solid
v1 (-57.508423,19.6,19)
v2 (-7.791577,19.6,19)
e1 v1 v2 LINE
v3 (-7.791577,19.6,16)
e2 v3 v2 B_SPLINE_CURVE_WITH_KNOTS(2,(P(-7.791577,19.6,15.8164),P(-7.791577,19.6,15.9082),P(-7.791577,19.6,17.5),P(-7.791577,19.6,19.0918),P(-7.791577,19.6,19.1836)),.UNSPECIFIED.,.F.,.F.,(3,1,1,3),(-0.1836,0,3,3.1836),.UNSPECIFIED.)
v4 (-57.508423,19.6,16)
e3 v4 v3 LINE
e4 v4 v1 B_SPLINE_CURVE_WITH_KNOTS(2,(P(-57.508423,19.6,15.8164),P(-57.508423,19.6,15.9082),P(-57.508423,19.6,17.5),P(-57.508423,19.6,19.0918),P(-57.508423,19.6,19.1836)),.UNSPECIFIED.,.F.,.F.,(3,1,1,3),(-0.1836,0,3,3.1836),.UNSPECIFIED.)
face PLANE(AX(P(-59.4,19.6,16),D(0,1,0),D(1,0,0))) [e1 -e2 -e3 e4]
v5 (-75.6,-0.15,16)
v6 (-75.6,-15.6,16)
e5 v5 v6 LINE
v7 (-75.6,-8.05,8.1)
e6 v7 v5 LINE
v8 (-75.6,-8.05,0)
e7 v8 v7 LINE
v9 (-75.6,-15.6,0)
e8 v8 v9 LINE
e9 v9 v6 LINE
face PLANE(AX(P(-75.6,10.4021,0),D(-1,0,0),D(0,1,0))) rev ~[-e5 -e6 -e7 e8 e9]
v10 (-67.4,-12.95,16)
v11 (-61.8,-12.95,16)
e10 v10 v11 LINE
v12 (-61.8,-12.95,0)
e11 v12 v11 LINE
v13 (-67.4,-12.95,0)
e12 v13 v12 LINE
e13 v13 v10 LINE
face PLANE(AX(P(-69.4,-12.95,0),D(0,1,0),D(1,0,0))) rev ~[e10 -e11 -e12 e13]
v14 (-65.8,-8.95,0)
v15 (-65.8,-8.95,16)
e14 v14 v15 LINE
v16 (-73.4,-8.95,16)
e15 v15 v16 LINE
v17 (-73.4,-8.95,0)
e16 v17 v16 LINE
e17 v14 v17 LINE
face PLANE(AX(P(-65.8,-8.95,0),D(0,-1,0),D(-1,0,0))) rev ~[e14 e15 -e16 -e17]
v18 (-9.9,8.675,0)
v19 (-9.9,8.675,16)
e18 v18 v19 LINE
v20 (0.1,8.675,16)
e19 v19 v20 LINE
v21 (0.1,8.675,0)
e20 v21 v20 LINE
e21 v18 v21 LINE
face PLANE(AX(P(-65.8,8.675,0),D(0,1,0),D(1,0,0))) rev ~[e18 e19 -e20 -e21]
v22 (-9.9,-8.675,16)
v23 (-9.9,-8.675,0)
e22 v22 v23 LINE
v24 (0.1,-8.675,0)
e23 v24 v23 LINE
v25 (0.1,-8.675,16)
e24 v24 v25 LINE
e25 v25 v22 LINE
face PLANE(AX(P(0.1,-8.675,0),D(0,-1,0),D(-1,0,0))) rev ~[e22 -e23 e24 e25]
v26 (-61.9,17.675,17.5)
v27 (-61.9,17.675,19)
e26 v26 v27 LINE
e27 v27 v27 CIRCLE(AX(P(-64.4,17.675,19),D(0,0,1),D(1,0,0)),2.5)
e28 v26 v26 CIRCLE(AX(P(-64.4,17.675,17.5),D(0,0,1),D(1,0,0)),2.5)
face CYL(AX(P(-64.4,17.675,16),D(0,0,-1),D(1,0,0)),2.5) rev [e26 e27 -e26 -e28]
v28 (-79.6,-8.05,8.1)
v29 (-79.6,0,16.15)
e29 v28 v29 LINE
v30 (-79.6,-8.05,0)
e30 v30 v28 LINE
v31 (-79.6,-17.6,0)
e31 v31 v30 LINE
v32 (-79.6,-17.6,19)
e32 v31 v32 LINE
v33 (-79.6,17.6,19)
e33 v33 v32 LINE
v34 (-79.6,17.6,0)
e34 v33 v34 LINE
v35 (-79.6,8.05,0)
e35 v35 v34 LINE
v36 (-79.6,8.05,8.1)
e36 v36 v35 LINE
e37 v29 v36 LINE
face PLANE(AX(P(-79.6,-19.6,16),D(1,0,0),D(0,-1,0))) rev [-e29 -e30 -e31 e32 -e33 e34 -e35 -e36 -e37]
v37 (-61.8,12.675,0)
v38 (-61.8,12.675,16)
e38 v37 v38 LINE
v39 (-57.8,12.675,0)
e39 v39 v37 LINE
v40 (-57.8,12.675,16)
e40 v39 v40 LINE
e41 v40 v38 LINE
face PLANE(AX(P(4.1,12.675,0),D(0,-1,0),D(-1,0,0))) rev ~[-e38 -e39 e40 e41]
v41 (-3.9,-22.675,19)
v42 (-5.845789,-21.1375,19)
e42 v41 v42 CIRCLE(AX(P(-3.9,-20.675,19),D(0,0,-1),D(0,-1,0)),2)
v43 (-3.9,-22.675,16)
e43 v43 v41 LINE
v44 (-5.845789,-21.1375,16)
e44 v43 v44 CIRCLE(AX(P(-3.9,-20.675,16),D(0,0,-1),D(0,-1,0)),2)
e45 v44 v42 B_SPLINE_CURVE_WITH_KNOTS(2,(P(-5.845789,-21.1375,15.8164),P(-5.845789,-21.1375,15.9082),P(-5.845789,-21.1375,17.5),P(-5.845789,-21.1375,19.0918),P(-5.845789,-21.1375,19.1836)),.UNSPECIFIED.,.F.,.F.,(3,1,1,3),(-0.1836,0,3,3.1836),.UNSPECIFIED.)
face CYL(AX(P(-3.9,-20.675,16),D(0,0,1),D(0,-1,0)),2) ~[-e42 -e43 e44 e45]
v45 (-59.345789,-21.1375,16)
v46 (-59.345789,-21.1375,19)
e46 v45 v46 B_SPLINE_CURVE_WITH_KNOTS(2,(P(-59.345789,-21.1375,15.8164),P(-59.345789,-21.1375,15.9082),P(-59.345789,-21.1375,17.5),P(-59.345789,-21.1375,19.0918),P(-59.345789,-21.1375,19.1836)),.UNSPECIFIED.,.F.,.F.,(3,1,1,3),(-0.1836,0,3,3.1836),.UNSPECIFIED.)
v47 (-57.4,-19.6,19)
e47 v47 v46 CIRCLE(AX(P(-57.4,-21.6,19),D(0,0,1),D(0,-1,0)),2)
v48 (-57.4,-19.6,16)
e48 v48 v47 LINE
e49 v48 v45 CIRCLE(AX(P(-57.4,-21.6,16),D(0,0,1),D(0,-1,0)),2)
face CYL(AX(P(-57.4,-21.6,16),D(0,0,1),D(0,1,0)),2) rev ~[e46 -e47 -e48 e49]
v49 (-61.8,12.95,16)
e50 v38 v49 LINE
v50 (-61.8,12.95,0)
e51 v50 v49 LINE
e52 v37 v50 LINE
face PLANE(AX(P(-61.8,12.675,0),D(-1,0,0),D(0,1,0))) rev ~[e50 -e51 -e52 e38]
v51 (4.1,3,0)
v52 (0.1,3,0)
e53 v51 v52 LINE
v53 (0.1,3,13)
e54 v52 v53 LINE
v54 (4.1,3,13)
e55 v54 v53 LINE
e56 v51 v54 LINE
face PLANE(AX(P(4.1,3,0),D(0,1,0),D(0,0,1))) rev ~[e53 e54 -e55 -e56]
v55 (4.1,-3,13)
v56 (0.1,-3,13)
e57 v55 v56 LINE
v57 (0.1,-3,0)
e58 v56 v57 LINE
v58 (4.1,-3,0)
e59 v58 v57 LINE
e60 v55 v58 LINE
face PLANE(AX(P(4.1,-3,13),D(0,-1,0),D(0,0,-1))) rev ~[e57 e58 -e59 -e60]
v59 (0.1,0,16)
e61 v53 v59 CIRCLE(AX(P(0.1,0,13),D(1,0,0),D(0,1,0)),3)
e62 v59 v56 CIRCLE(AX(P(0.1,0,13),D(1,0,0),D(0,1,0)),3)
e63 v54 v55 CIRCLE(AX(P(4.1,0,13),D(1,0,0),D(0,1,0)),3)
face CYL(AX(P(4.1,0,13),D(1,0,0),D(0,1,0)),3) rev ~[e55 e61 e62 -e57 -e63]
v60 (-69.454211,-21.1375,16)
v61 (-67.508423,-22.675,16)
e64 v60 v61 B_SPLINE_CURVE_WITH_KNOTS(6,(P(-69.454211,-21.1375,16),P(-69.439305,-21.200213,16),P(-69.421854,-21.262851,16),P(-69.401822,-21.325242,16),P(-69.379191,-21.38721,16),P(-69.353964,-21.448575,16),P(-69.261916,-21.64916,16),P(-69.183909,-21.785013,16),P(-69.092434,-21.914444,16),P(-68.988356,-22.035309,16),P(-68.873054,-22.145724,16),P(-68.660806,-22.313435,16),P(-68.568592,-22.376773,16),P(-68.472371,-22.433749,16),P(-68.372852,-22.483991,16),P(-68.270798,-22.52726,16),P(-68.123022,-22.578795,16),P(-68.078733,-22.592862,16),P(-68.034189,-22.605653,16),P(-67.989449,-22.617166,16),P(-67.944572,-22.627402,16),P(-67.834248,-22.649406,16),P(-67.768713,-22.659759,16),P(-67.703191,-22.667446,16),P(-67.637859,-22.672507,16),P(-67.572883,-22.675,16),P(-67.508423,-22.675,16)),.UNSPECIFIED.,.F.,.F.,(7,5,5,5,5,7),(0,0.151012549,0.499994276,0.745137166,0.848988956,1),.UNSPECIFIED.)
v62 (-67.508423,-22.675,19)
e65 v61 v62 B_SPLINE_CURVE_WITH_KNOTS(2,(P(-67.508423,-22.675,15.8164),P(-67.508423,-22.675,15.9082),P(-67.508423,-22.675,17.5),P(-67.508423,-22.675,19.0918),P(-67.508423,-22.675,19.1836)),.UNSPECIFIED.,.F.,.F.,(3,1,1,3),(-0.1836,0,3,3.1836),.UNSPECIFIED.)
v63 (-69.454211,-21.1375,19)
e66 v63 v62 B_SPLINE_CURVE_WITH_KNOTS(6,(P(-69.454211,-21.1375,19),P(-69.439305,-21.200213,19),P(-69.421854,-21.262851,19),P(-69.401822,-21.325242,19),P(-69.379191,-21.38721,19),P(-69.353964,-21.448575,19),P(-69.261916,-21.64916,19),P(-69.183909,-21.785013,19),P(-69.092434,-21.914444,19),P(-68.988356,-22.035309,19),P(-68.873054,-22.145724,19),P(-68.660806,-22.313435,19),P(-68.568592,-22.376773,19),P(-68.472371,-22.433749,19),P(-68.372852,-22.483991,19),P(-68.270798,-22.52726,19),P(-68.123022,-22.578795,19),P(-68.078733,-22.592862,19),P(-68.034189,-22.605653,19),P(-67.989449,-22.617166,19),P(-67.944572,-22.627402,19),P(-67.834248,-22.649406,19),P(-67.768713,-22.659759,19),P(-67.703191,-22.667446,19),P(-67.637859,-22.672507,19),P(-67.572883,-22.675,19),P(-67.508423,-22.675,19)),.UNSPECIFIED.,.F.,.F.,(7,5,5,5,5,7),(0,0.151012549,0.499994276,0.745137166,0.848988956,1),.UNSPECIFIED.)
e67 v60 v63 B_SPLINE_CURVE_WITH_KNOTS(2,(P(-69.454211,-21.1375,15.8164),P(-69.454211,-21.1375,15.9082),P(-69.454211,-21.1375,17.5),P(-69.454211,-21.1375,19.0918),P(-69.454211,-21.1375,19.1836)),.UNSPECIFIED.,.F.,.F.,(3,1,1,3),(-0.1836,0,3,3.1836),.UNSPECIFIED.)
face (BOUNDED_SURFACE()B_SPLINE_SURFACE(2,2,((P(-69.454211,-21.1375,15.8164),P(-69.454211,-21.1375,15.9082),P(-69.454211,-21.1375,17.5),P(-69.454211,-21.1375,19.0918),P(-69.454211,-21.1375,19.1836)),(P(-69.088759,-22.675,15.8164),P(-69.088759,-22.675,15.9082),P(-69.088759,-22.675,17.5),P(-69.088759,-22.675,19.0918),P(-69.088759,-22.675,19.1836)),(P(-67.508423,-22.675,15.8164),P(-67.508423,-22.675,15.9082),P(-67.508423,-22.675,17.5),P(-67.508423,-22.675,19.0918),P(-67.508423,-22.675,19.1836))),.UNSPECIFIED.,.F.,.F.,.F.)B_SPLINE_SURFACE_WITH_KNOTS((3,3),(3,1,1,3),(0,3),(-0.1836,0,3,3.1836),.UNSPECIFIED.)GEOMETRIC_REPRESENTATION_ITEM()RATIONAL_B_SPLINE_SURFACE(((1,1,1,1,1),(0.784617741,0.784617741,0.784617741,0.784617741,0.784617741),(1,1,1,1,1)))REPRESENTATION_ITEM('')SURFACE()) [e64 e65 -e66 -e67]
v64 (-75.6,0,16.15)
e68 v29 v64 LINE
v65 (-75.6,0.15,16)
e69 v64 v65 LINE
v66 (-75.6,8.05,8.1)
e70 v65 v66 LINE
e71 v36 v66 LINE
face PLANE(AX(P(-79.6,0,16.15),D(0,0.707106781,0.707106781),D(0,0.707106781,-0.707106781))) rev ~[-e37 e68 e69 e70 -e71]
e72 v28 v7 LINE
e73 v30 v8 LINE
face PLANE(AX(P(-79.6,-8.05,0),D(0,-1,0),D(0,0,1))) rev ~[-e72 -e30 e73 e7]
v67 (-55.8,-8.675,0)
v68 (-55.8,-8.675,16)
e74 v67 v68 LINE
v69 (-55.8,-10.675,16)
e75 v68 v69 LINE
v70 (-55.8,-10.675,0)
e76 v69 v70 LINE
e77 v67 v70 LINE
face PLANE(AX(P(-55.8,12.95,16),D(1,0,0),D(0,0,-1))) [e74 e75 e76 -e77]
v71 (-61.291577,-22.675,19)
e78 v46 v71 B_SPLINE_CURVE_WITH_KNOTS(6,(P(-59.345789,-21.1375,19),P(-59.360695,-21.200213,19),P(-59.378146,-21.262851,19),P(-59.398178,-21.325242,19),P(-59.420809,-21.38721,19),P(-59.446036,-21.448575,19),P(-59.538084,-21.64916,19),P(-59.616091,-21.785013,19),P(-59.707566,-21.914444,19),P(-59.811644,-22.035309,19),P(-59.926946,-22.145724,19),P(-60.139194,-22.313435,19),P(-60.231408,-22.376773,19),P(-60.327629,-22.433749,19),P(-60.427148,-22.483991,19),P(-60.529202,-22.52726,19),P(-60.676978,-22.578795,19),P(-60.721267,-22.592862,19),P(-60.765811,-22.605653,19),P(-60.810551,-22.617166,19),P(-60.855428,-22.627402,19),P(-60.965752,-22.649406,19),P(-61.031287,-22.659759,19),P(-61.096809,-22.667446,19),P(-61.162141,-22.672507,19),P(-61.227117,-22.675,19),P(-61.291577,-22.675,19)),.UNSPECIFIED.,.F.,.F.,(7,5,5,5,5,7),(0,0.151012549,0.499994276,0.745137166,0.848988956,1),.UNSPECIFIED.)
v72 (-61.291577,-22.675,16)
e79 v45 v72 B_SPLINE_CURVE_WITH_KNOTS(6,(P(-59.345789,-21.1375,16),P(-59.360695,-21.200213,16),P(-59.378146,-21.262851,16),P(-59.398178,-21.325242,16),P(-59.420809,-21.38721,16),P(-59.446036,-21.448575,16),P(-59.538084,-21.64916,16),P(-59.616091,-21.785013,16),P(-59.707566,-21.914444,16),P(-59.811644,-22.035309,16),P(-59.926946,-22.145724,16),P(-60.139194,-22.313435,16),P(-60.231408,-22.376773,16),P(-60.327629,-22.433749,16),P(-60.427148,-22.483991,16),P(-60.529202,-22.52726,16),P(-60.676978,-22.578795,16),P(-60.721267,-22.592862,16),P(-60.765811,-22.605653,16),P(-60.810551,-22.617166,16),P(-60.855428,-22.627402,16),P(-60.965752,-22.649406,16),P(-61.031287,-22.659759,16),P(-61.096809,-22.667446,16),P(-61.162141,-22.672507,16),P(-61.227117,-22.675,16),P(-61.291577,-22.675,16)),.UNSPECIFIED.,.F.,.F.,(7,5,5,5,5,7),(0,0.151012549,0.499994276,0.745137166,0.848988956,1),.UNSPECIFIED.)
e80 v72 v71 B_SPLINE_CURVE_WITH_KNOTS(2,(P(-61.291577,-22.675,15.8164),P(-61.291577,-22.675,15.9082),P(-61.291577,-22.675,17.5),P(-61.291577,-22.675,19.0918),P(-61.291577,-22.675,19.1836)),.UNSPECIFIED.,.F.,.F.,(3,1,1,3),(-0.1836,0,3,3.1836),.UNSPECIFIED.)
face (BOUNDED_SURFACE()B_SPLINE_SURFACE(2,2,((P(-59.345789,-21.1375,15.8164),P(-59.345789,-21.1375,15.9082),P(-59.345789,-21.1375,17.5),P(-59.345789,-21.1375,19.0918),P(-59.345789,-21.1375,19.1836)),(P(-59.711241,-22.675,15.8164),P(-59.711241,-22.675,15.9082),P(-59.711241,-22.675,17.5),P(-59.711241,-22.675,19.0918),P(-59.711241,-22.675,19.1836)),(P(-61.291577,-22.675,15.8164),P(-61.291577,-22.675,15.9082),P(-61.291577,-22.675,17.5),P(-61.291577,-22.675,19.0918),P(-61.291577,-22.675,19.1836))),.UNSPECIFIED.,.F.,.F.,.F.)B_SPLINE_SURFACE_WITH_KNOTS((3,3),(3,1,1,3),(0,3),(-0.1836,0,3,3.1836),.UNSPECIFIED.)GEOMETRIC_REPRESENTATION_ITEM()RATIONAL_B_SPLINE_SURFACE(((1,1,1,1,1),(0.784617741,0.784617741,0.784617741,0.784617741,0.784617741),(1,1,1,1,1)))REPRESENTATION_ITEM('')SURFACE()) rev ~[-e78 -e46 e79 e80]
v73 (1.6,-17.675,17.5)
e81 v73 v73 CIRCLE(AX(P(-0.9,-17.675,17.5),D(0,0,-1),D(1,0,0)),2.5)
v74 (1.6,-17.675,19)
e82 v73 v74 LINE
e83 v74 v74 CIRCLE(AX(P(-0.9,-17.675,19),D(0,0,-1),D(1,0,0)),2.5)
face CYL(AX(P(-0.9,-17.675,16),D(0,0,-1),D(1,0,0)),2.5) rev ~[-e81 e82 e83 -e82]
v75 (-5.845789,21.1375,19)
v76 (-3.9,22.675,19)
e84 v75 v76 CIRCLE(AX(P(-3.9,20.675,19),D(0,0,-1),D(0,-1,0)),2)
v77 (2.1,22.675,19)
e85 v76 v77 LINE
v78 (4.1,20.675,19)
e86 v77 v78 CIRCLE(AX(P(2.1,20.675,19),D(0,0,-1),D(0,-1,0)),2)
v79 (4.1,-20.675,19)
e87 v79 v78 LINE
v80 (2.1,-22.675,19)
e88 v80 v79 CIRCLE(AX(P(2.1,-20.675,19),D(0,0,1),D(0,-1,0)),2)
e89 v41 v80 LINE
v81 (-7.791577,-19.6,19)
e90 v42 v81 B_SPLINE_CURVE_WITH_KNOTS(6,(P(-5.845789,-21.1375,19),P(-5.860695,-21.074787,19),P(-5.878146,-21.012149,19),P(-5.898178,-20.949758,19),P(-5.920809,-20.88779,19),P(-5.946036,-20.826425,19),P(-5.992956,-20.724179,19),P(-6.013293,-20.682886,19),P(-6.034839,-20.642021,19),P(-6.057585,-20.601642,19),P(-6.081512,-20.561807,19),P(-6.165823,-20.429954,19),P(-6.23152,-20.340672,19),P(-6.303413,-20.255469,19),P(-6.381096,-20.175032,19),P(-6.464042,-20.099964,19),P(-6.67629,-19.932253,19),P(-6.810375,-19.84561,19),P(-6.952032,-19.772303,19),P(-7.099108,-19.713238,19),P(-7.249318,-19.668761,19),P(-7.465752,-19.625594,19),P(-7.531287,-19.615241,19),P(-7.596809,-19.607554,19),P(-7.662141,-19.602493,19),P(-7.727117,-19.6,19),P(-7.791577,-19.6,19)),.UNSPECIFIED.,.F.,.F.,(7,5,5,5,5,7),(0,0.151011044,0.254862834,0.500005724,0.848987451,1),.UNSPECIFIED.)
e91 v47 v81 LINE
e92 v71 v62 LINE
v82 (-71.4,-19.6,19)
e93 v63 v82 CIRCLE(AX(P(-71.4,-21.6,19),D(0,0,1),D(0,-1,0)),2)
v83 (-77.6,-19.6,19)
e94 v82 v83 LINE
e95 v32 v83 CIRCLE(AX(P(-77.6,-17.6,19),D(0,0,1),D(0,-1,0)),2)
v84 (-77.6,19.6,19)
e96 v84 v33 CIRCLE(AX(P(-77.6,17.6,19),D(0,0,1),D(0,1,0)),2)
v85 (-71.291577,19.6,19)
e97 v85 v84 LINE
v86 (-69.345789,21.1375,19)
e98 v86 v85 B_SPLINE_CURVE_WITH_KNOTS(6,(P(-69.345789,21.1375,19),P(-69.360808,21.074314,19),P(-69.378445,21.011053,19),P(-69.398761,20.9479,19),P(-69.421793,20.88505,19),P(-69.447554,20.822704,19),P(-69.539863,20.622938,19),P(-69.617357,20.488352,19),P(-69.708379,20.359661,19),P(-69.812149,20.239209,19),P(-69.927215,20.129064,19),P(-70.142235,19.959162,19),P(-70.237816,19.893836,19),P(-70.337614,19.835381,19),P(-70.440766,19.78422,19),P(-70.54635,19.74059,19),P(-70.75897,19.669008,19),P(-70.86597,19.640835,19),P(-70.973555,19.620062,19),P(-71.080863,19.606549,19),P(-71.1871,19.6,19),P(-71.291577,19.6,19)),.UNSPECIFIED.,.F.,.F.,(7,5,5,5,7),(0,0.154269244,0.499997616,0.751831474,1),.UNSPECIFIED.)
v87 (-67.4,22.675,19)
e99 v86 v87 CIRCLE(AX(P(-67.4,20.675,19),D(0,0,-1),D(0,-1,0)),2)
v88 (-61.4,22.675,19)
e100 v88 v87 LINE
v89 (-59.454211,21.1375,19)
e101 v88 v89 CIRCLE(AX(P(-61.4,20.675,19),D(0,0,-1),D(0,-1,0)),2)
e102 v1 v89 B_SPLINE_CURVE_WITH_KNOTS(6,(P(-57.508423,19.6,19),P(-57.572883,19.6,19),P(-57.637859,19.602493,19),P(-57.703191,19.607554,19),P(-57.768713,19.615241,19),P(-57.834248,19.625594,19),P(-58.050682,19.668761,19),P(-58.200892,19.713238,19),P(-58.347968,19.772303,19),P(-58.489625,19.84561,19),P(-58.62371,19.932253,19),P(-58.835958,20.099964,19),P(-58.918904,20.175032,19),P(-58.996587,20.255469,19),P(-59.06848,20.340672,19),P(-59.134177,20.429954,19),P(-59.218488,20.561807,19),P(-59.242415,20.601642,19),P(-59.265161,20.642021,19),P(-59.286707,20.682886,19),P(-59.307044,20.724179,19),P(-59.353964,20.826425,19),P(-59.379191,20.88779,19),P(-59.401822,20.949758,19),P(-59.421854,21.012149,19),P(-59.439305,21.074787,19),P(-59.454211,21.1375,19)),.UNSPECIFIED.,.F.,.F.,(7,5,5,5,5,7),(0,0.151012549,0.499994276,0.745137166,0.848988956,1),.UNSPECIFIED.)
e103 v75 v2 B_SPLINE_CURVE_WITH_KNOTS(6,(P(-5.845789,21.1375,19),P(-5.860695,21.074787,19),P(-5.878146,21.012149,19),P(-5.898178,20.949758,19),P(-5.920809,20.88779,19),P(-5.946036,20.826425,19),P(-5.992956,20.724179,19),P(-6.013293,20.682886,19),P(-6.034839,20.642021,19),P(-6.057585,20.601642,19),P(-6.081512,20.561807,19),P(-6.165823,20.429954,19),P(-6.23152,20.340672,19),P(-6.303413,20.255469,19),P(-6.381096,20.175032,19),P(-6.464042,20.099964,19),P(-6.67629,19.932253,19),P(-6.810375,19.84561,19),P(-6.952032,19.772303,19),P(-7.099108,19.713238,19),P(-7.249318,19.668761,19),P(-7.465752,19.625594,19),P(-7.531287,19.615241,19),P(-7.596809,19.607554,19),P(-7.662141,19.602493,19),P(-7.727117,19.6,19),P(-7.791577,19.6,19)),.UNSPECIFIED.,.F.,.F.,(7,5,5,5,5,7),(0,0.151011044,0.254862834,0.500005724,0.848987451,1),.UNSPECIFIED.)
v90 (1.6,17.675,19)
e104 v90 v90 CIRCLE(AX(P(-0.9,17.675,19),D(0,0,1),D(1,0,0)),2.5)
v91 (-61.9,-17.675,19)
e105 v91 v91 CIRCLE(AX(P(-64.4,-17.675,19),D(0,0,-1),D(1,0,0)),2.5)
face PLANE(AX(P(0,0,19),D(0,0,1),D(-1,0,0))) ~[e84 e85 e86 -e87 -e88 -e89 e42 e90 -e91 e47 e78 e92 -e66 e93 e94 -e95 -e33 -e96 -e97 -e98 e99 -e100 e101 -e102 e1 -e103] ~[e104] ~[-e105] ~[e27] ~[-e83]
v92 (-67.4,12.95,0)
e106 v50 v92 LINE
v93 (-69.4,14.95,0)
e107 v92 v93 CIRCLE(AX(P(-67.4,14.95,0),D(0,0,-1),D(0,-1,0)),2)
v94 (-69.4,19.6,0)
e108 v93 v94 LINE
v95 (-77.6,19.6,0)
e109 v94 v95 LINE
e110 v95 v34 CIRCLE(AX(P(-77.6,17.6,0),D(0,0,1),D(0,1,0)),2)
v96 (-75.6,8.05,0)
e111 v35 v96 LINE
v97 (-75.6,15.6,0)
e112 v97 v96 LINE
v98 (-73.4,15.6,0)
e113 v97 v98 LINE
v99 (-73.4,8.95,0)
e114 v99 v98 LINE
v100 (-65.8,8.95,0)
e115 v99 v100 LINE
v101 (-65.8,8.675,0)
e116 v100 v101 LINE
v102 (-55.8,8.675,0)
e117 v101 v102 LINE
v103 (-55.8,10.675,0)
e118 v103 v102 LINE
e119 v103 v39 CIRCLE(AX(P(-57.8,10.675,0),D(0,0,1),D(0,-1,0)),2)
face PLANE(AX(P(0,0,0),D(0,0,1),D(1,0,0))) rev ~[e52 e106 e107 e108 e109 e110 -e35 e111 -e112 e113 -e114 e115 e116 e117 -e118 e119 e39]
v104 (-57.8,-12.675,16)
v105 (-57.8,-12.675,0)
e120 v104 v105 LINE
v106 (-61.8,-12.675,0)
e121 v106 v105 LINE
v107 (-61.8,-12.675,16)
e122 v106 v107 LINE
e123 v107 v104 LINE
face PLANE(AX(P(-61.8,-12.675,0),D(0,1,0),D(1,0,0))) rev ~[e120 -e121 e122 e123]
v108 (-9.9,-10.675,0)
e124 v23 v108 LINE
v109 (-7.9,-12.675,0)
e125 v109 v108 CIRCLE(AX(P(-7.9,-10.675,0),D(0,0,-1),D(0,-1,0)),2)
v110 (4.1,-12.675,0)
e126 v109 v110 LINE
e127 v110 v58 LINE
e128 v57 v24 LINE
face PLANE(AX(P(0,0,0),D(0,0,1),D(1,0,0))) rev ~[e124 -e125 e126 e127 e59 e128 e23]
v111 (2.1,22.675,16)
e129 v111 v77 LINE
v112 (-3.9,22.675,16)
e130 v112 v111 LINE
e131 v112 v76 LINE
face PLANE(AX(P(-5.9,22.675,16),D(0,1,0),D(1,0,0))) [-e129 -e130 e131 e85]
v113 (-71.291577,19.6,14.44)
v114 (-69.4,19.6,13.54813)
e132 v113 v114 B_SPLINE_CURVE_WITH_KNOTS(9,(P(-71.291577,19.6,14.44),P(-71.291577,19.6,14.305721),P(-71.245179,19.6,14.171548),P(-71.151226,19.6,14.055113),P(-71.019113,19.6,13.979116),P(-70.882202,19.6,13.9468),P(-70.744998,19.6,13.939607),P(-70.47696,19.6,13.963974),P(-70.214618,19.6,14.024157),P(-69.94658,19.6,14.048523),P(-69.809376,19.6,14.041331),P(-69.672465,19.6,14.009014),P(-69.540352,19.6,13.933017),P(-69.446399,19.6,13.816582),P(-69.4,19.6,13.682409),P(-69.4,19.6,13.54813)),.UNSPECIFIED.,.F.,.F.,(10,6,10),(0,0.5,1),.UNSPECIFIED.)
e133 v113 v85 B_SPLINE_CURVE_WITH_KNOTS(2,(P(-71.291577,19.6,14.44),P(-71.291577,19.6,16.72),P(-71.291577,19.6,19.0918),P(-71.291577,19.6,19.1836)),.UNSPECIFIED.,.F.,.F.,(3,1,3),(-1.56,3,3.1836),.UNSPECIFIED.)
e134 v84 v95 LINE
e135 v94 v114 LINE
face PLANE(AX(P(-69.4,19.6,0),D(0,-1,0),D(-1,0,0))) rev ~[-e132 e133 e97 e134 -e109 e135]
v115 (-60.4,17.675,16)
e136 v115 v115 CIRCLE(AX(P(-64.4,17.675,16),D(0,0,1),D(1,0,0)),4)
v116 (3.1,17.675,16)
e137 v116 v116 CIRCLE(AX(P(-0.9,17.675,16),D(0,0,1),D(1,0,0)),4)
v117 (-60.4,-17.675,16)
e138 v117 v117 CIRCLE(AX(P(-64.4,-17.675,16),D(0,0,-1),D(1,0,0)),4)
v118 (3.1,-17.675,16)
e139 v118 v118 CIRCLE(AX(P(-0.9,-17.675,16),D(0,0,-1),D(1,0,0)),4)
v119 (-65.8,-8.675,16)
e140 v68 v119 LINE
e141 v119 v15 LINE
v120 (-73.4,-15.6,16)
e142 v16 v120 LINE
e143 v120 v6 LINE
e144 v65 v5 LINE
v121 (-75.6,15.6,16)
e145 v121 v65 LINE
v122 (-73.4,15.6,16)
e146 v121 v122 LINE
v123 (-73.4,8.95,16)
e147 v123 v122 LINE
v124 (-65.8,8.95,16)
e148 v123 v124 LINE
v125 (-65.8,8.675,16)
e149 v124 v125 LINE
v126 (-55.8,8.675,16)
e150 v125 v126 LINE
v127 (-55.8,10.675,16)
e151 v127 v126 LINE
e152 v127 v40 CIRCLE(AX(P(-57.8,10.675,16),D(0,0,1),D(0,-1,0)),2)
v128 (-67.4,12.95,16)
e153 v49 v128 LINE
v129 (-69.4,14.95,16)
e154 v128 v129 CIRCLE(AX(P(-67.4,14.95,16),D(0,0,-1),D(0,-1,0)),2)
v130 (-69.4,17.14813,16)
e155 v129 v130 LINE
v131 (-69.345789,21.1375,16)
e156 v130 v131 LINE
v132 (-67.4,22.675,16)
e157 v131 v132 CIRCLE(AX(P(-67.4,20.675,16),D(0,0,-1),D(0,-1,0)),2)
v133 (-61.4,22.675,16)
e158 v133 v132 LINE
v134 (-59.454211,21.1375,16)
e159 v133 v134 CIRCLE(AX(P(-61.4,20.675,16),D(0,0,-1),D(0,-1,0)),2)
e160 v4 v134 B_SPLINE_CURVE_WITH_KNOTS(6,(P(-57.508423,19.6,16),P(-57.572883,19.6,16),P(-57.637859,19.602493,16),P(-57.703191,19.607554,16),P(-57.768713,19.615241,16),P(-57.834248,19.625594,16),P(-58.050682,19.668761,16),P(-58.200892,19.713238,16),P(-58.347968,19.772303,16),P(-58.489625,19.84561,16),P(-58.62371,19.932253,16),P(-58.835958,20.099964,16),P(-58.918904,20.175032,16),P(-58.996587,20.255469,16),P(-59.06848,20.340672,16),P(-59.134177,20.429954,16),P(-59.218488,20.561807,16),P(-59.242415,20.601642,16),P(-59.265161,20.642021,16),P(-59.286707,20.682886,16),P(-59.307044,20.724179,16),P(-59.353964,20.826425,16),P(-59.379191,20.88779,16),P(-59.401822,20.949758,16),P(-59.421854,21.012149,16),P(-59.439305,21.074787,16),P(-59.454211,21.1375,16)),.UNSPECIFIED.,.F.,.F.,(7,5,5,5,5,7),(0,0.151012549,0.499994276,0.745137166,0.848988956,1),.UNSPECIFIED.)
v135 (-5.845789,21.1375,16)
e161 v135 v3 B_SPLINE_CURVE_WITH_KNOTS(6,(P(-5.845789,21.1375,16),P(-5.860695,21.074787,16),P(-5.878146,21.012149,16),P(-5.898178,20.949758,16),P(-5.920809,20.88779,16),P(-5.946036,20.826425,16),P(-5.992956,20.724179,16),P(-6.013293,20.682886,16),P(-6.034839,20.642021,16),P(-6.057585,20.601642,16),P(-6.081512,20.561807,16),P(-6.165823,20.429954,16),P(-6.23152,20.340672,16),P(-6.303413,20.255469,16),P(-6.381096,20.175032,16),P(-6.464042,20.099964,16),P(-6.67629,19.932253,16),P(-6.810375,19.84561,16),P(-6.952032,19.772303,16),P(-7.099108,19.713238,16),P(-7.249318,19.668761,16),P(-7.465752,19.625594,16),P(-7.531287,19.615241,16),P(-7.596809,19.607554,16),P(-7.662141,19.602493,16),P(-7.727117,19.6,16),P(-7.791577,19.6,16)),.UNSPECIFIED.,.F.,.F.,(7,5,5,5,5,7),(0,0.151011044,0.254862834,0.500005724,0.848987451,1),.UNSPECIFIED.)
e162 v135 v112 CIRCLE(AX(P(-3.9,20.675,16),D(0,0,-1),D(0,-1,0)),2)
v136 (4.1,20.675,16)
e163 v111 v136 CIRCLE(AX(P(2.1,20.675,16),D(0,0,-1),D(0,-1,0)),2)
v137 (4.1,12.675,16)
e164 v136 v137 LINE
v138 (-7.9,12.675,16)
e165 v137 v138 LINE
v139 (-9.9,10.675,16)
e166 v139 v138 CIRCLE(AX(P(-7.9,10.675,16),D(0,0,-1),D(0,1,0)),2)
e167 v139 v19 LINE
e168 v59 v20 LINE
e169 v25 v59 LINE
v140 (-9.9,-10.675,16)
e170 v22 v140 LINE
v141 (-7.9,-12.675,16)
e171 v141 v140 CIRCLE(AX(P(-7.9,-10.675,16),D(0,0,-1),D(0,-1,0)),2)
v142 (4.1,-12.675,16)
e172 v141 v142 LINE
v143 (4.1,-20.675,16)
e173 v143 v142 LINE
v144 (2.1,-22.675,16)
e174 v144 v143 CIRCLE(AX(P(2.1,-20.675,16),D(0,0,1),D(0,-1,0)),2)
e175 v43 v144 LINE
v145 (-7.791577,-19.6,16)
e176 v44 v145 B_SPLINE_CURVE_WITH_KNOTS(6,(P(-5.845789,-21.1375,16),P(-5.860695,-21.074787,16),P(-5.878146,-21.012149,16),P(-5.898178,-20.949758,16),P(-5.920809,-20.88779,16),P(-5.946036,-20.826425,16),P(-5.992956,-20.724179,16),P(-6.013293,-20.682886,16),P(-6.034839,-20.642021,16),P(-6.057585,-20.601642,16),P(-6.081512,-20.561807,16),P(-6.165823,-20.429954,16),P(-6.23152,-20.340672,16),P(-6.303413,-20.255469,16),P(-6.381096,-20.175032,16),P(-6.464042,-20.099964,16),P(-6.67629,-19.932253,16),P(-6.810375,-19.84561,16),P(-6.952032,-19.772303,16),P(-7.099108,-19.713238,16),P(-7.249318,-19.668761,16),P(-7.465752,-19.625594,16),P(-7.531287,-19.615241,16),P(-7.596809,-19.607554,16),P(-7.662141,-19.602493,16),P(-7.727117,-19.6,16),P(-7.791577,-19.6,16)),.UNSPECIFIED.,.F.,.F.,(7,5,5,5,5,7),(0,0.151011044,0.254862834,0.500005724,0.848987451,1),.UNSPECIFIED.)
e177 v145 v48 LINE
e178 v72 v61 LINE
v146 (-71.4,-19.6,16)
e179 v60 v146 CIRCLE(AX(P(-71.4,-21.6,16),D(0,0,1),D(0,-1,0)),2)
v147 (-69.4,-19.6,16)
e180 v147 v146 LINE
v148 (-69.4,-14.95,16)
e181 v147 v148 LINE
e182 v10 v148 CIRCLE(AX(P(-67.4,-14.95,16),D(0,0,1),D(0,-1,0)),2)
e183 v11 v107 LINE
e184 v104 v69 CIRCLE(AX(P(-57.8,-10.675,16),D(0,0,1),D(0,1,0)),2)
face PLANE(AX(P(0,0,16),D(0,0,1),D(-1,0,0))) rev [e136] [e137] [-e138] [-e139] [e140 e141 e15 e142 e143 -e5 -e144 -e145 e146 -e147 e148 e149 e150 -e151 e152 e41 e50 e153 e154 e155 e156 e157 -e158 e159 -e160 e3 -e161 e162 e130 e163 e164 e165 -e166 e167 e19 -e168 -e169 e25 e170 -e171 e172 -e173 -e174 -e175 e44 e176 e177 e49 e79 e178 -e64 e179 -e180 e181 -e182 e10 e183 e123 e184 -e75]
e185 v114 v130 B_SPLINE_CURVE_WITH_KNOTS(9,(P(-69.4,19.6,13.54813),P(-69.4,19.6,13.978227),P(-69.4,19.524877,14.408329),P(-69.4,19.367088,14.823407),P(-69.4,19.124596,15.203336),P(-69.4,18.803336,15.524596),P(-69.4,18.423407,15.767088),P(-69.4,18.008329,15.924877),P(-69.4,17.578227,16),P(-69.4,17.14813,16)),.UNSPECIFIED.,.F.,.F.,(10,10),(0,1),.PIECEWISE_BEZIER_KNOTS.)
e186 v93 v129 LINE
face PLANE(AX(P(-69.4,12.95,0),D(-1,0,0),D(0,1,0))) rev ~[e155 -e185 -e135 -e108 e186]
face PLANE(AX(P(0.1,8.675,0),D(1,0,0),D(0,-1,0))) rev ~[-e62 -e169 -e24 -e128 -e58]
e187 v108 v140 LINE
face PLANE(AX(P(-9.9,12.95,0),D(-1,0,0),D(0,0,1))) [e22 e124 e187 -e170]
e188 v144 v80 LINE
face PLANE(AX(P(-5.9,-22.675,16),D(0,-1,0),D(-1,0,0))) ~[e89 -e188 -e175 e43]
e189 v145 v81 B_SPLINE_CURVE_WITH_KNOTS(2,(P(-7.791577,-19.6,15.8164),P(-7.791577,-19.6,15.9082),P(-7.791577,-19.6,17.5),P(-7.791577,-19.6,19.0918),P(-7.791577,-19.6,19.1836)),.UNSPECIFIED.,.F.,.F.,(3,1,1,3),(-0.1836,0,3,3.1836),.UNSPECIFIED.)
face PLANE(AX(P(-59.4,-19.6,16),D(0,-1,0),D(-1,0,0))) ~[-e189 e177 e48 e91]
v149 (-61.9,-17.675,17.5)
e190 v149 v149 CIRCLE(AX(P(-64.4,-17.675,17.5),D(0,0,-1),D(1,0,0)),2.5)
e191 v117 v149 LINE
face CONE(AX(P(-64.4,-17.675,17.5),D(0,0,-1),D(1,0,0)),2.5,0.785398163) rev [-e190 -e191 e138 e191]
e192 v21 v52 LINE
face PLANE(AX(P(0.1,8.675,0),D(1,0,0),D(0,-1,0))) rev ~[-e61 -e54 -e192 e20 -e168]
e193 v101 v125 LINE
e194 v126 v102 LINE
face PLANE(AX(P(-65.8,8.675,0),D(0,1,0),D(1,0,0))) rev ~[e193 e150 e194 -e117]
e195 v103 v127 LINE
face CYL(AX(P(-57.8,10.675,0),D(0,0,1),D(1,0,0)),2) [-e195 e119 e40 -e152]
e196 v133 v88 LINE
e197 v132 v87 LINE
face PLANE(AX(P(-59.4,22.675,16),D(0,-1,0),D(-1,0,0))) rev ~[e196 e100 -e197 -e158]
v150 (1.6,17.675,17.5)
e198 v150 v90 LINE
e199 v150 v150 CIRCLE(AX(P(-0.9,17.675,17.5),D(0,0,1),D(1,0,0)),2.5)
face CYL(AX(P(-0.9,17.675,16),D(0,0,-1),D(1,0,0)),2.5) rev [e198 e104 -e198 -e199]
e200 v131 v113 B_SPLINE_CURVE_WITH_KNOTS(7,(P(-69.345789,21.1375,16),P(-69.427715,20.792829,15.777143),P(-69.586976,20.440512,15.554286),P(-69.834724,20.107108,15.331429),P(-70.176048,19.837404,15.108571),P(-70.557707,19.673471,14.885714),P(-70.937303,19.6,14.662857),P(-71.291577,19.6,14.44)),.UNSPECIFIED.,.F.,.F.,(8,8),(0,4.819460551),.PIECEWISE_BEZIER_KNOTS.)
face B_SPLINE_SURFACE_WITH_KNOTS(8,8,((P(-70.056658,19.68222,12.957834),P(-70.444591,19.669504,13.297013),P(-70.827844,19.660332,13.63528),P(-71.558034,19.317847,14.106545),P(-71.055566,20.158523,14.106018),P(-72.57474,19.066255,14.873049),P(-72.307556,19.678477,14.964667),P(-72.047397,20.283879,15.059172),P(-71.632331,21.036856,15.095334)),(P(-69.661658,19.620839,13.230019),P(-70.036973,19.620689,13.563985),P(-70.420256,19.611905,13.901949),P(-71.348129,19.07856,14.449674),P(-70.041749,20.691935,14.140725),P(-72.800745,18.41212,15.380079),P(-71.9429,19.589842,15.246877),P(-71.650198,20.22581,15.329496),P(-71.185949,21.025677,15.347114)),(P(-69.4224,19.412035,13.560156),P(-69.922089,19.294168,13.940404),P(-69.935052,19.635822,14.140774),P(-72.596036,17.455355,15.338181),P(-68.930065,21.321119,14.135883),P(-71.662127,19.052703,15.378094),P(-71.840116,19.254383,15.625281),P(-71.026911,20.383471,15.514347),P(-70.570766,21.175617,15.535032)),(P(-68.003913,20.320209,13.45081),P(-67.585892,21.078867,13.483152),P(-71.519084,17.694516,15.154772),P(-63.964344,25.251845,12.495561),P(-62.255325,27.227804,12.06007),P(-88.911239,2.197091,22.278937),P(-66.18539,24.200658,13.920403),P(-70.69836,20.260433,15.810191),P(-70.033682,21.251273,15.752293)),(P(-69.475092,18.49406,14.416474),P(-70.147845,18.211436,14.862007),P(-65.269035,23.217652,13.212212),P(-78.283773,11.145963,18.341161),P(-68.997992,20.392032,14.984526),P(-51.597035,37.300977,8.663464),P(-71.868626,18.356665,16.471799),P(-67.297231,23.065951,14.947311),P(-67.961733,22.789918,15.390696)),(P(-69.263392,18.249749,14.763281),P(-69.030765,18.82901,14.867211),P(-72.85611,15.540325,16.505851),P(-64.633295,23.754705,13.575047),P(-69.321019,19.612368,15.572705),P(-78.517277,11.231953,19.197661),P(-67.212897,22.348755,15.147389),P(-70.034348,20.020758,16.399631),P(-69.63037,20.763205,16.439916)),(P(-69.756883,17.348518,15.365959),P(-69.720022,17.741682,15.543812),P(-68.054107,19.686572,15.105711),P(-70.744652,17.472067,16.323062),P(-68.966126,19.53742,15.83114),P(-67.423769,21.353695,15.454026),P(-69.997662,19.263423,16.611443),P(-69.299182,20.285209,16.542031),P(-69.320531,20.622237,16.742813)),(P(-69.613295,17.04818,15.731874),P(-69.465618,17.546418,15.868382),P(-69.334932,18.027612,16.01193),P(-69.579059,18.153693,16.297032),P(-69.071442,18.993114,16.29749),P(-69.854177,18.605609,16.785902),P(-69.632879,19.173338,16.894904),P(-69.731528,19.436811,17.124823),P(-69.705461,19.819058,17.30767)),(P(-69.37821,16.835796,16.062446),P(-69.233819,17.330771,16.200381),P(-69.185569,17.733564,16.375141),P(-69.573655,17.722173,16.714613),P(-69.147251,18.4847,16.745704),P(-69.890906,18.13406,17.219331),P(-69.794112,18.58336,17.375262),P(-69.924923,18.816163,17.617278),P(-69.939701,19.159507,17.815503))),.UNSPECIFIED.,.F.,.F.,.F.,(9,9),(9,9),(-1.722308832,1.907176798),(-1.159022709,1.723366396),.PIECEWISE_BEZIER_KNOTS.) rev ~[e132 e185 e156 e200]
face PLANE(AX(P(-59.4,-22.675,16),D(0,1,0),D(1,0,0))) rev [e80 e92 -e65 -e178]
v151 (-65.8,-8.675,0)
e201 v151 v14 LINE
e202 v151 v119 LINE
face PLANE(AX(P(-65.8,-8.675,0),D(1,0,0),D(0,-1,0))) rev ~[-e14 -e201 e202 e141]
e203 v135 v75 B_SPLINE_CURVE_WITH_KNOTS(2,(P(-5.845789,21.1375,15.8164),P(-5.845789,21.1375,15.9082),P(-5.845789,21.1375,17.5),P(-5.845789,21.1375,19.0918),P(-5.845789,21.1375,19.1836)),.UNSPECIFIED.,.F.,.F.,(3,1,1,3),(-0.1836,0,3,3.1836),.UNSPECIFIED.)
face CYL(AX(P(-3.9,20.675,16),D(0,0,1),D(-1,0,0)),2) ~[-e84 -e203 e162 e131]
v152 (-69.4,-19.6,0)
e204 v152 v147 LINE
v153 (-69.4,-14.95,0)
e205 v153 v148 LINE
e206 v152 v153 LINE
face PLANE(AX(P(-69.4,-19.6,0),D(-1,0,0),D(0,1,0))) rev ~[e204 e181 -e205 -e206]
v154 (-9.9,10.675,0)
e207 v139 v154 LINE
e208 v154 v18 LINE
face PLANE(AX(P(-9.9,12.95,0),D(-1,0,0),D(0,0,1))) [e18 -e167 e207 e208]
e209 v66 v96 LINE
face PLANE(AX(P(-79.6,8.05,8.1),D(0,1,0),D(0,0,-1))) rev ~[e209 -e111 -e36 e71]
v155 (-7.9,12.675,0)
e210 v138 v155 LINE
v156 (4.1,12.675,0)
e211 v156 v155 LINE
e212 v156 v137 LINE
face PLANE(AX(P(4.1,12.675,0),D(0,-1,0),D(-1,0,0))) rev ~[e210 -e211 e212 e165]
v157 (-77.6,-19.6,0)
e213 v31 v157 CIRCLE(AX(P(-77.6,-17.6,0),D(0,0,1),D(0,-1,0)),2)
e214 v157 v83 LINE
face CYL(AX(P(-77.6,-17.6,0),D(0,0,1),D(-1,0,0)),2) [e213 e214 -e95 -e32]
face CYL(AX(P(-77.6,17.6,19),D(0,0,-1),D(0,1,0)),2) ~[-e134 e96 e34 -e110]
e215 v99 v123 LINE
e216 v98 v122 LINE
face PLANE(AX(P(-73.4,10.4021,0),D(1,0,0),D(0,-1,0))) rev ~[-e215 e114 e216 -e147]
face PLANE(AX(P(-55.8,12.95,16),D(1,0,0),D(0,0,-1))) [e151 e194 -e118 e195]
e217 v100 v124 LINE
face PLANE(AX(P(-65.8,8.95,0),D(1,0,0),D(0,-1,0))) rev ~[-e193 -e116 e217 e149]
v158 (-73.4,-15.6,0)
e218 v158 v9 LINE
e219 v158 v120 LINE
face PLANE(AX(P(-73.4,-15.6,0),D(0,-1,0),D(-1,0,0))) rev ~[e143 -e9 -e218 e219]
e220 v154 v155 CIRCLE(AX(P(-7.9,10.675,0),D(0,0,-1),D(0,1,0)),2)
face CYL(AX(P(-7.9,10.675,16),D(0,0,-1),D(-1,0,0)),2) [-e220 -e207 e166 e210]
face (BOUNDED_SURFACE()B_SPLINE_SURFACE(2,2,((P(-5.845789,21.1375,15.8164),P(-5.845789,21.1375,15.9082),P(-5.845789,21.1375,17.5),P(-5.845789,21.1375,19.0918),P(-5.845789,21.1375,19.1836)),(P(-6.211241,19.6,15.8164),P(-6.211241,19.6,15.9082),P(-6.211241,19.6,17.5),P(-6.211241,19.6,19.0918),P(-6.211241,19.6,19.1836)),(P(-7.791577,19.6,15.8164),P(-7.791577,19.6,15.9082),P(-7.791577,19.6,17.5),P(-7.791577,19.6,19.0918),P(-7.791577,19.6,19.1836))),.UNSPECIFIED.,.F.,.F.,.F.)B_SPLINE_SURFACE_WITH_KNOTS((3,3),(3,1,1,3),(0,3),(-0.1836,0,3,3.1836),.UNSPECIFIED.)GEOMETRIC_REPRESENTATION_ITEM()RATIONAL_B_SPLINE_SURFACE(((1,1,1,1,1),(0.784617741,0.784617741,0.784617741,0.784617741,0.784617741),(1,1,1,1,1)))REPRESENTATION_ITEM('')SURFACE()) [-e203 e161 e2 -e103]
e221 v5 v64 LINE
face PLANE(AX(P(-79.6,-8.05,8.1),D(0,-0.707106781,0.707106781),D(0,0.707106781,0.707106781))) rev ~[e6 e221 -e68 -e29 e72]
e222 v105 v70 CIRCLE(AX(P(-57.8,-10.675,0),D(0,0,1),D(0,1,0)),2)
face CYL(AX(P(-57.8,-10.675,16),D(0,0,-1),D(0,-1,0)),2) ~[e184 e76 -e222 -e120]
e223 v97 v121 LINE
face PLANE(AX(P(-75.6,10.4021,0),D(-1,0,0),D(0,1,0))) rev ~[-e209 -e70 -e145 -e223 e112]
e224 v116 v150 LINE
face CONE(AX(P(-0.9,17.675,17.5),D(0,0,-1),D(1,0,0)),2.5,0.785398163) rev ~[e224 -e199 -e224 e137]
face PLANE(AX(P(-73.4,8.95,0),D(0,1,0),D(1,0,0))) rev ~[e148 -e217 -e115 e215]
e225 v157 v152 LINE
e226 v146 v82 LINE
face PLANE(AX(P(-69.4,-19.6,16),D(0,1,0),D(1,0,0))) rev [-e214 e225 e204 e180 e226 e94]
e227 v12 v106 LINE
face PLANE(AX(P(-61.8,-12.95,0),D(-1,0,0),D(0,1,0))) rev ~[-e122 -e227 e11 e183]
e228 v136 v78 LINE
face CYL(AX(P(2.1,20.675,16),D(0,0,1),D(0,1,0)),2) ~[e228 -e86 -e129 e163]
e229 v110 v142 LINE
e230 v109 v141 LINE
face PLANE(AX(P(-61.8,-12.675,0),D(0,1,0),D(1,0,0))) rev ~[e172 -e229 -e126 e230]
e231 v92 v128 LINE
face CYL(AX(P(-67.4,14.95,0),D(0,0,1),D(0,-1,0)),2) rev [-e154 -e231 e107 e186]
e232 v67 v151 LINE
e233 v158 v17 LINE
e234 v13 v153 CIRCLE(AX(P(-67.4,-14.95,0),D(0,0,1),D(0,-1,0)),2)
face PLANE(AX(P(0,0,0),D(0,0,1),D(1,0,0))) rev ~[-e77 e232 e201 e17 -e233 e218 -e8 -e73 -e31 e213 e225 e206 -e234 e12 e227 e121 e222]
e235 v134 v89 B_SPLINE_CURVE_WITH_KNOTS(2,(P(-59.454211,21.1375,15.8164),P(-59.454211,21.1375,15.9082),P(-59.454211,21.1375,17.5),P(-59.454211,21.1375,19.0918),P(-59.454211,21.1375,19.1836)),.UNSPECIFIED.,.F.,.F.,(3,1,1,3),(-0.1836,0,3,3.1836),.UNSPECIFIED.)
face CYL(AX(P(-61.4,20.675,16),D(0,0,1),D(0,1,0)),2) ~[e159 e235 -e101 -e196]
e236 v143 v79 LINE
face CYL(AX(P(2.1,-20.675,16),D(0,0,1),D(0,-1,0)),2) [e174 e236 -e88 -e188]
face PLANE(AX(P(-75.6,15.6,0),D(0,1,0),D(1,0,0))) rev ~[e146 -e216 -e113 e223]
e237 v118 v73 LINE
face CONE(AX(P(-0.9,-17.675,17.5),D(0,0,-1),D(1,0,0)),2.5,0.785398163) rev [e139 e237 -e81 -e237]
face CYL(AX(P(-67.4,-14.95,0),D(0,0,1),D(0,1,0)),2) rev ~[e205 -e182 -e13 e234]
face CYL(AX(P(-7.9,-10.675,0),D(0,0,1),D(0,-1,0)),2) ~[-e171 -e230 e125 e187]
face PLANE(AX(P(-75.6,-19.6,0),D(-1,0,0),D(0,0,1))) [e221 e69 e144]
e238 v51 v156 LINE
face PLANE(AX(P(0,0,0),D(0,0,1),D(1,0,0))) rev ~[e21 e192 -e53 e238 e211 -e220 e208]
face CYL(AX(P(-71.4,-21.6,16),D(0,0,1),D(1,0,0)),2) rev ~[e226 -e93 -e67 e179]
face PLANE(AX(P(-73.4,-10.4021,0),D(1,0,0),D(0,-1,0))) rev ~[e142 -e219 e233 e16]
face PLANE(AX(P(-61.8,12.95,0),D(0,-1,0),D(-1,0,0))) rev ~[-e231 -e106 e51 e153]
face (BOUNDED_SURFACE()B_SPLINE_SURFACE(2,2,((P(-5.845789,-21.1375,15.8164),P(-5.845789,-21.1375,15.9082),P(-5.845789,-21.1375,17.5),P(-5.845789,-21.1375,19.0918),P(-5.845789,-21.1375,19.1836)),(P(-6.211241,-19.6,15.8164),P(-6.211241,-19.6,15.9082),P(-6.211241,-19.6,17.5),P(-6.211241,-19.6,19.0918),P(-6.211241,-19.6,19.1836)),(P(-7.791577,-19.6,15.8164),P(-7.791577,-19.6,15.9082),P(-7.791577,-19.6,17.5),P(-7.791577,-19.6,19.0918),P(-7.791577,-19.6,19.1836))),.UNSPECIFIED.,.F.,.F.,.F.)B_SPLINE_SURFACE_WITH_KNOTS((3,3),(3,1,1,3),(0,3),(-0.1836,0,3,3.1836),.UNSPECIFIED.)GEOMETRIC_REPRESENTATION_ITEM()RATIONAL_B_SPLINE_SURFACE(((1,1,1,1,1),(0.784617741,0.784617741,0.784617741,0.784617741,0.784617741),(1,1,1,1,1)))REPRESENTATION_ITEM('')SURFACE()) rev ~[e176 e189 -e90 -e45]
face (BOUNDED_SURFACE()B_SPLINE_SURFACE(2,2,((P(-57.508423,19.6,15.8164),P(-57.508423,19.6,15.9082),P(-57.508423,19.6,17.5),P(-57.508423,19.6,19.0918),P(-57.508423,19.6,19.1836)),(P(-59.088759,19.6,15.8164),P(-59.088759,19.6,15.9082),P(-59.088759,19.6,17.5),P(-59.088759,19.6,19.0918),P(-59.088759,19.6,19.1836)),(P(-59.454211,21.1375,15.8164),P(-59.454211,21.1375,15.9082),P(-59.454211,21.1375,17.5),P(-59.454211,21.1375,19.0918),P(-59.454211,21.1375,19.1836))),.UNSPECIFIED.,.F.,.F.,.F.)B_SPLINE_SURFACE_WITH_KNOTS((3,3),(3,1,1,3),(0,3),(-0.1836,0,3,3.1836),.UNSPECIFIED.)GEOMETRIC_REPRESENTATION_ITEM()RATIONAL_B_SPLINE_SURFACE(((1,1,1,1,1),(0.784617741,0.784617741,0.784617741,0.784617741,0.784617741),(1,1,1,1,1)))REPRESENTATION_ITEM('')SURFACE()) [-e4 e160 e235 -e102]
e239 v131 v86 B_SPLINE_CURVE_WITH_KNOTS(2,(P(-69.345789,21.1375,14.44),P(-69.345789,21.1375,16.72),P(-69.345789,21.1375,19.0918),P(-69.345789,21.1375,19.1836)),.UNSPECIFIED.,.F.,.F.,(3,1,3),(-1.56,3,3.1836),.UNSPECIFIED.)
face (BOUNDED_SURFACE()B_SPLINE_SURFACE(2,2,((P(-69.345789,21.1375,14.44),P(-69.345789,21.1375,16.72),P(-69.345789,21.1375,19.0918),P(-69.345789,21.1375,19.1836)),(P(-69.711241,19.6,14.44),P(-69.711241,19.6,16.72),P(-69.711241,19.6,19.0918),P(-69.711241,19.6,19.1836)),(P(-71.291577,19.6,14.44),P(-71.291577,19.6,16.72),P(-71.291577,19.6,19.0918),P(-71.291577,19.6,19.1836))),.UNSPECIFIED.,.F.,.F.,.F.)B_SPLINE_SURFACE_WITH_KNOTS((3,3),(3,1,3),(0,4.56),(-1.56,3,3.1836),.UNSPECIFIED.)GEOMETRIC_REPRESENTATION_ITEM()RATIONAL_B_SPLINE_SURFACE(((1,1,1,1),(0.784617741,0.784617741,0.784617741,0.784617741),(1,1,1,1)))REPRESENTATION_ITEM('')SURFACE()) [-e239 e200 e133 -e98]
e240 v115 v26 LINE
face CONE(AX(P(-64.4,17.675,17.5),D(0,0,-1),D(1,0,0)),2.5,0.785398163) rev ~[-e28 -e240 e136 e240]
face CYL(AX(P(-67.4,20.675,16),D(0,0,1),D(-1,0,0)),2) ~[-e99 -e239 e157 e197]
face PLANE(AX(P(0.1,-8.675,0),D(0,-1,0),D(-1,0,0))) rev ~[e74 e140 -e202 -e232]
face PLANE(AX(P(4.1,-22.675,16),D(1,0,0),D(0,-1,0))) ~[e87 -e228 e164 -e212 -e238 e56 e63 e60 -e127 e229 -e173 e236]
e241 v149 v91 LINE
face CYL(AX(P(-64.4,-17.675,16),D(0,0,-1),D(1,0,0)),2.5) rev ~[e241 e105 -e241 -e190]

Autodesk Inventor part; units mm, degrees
ref_plane "YZ Plane" through (0, 0, 0) normal (1, 0, 0) x (0, 1, 0)
ref_plane "XZ Plane" through (0, 0, 0) normal (0, 1, 0) x (-1, 0, 0)
ref_plane "XY Plane" through (0, 0, 0) normal (0, 0, 1) x (1, 0, 0)
sketch "Sketch1" plane through (0, 0, 0) normal (0, 0, 1) x (1, 0, 0)
  line L0 (-75.5, -15.5) -> (-73.5, -15.5) construction
  line L1 (-75.5, 15.5) -> (-73.5, 15.5) construction
  line L2 (-75.5, 15.5) -> (-75.5, 10.4021) construction
  line L3 (-75.5, 10.4021) -> (-75.5, 3.3083) construction
  line L4 (-75.5, 3.3083) -> (-75.5, -3.3083) construction
  line L5 (-75.5, -3.3083) -> (-75.5, -10.4021) construction
  line L6 (-75.5, -10.4021) -> (-75.5, -15.5) construction
  line L7 (-73.5, -15.5) -> (-73.5, -10.4021) construction
  line L8 (-73.5, 10.4021) -> (-73.5, 15.5) construction
  line L9 (-73.5, -8.85) -> (-65.9, -8.85) construction
  line L10 (-73.5, 8.85) -> (-65.9, 8.85) construction
  line L11 (0, 8.575) -> (0, -8.575) construction
  line L12 (0, -8.575) -> (-65.9, -8.575) construction
  line L13 (0, 8.575) -> (-65.9, 8.575) construction
  line L14 (-65.9, 8.575) -> (-65.9, 8.85) construction
  line L15 (-65.9, -8.85) -> (-65.9, -8.575) construction
  line L16 (-73.5, -10.4021) -> (-73.5, -8.85) construction
  line L17 (-73.5, 8.85) -> (-73.5, 10.4021) construction
  line L18 (-65.8, 8.675) -> (0.1, 8.675)
  line L19 (0.1, 8.675) -> (0.1, -8.675)
  line L20 (0.1, -8.675) -> (-65.8, -8.675)
  line L21 (-65.8, -8.675) -> (-65.8, -8.95)
  line L22 (-65.8, -8.95) -> (-73.4, -8.95)
  line L23 (-73.4, -8.95) -> (-73.4, -10.4021)
  line L24 (-73.4, -10.4021) -> (-73.4, -15.6)
  line L25 (-73.4, -15.6) -> (-75.6, -15.6)
  line L26 (-75.6, -15.6) -> (-75.6, -10.4021)
  line L27 (-75.6, -10.4021) -> (-75.6, -3.3083)
  line L28 (-75.6, -3.3083) -> (-75.6, 3.3083)
  line L29 (-75.6, 3.3083) -> (-75.6, 10.4021)
  line L30 (-75.6, 10.4021) -> (-75.6, 15.6)
  line L31 (-75.6, 15.6) -> (-73.4, 15.6)
  line L32 (-73.4, 15.6) -> (-73.4, 10.4021)
  line L33 (-73.4, 10.4021) -> (-73.4, 8.95)
  line L34 (-73.4, 8.95) -> (-65.8, 8.95)
  line L35 (-65.8, 8.95) -> (-65.8, 8.675)
  line L36 (4.1, 12.675) -> (-61.8, 12.675)
  line L37 (-61.8, 12.675) -> (-61.8, 12.95)
  line L38 (-61.8, 12.95) -> (-69.4, 12.95)
  line L39 (-69.4, 12.95) -> (-69.4, 19.6)
  line L40 (-69.4, 19.6) -> (-79.6, 19.6)
  line L41 (-79.6, 19.6) -> (-79.6, 10.4021)
  line L42 (-79.6, 10.4021) -> (-79.6, 3.3083)
  line L43 (-79.6, 3.3083) -> (-79.6, -3.3083)
  line L44 (-79.6, -3.3083) -> (-79.6, -10.4021)
  line L45 (-79.6, -10.4021) -> (-79.6, -19.6)
  line L46 (-79.6, -19.6) -> (-69.4, -19.6)
  line L47 (-69.4, -19.6) -> (-69.4, -12.95)
  line L48 (-69.4, -12.95) -> (-61.8, -12.95)
  line L49 (-61.8, -12.95) -> (-61.8, -12.675)
  line L50 (-61.8, -12.675) -> (4.1, -12.675)
  line L51 (4.1, -12.675) -> (4.1, 12.675)
  dimension "SyringeHolderWallOffset" = 0.1
  dimension "SyringeHolderWallWidth" = 4
extrude "Extrusion1" add sketch "Sketch1" along normal blind 16
sketch "Sketch2" plane through (0, 0, 16) normal (0, 0, 1) x (1, 0, 0)
  line L0 (-5.9, 19.6) -> (-5.9, 22.675)
  line L1 (-5.9, 22.675) -> (4.1, 22.675)
  line L2 (4.1, 22.675) -> (4.1, 12.675)
  line L3 (-59.4, 19.6) -> (-59.4, 22.675)
  line L4 (-59.4, 22.675) -> (-69.4, 22.675)
  line L5 (-59.4, 19.6) -> (-5.9, 19.6)
  circle A0 centre (-0.9, 17.675) radius 2.5
  circle A1 centre (-64.4, 17.675) radius 2.5
  line L6 (-69.4, 19.6) -> (-79.6, 19.6) projected
  line L7 (-79.6, 19.6) -> (-79.6, -19.6) projected
  line L8 (4.1, -12.675) -> (4.1, 12.675) projected
  line L9 (-69.4, 22.675) -> (-69.4, 19.6)
  line L10 (4.1, 0) -> (-79.6, 0)
  point P0 (-5.9, 21.1375)
  point P1 (4.1, 17.675)
  point P2 (-0.9, 22.675)
  point P3 (-64.4, 22.675)
  dimension "d60" = 10
  dimension "d73" = 5
extrude "Extrusion2" add sketch "Sketch2" along normal blind 3
chamfer "Chamfer4" distance 1.5 angle 45 2 edges at (-3.4, 17.675, 16) (-66.9, 17.675, 16)
mirror "Mirror1" about plane through (0, 0, 0) normal (0, 1, 0) of "Extrusion2", "Chamfer4"
sketch "Sketch8" plane through (4.1, -12.675, 0) normal (1, 0, 0) x (0, 0, -1)
  line L0 (0, 0) -> (0, 25.35) construction
  line L1 (0, 15.675) -> (-13, 15.675)
  line L2 (-13, 9.675) -> (0, 9.675)
  line L3 (0, 9.675) -> (0, 15.675)
  arc A0 (-13, 15.675) -> (-13, 9.675) centre (-13, 12.675) ccw
  point P0 (-16, 0)
  point P1 (0, 12.675)
  point P2 (0, 12.675)
  point P3 (-16, 12.675)
  dimension "SyringeHolderTipWidth" = 6
extrude "Extrusion8" cut sketch "Sketch8" against normal up to surface (4 mm away)
sketch "Sketch9" plane through (-79.6, -19.6, 0) normal (-1, 0, 0) x (0, 0, 1)
  line L0 (0, 39.2) -> (0, 0) construction
  line L1 (0, 11.55) -> (8.1, 11.55)
  line L2 (8.1, 27.65) -> (0, 27.65)
  line L3 (0, 27.65) -> (0, 11.55)
  line L4 (8.1, 11.55) -> (16.15, 19.6)
  line L5 (16.15, 19.6) -> (8.1, 27.65)
  point P0 (0, 19.6)
  point P1 (8.1, 11.8)
  point P2 (8.1, 27.4)
  point P3 (15.9, 19.6)
  dimension "d80" = 0.25
  dimension "d81" = 0.25
  dimension "d84" = 0.25
extrude "Extrusion9" cut sketch "Sketch9" against normal up to surface (4 mm away)
sketch "Sketch11" plane through (-69.4, 12.95, 0) normal (0, 1, 0) x (1, 0, 0)
  line L0 (7.6, 0) -> (0, 0) construction
  line L1 (13.6, 0) -> (59.5, 0)
  line L2 (59.5, 0) -> (59.5, -16)
  line L3 (59.5, -16) -> (13.6, -16)
  line L4 (13.6, -16) -> (13.6, 0)
  line L5 (69.5, -13) -> (69.5, 0) construction
  line L6 (3.6, 0) -> (3.6, -16) construction
  point P0 (69.4, 0)
  dimension "d85" = 10
  dimension "d86" = 10
extrude "Extrusion10" cut sketch "Sketch11" against normal through all
fillet "Fillet2" radius 2 24 edges at (-69.4, 22.675, 17.5) (-59.4, 22.675, 17.5) (-5.9, 22.675, 17.5) (4.1, 22.675, 17.5) (-5.9, 19.6, 17.5) (-59.4, 19.6, 17.5) (-69.4, 19.6, 17.5) (-79.6, 19.6, 17.5) (-79.6, 19.6, 8) (-79.6, -19.6, 17.5) (-79.6, -19.6, 8) (4.1, -22.675, 17.5) (-5.9, -22.675, 17.5) (-5.9, -19.6, 17.5) (-59.4, -19.6, 17.5) (-59.4, -22.675, 17.5) (-69.4, -19.6, 17.5) (-69.4, -22.675, 17.5) (-9.9, -12.675, 8) (-9.9, 12.675, 8) (-55.8, -12.675, 8) (-55.8, 12.675, 8) (-69.4, -12.95, 8) (-69.4, 12.95, 8)
equation "\"d60\" = ScrewPlateSize"
equation "\"d73\" = ScrewHoleDia"
equation "\"d17\" = ScrewPlateHeight"
equation "\"d74\" = ScrewHoleFillet"
equation "\"d78\" = ScrewPlateHeight"
equation "\"d80\" = d81"
equation "\"d84\" = d81"
equation "\"d82\" = ScrewPlateHeight"
equation "\"d86\" = d85"
equation "\"ScrewPlateSize\" = 10"
equation "\"ScrewHoleDia\" = 5"
equation "\"ScrewPlateHeight\" = 3"
equation "\"ScrewHoleFillet\" = 1.5"
properties part number "SyringeCasing"
